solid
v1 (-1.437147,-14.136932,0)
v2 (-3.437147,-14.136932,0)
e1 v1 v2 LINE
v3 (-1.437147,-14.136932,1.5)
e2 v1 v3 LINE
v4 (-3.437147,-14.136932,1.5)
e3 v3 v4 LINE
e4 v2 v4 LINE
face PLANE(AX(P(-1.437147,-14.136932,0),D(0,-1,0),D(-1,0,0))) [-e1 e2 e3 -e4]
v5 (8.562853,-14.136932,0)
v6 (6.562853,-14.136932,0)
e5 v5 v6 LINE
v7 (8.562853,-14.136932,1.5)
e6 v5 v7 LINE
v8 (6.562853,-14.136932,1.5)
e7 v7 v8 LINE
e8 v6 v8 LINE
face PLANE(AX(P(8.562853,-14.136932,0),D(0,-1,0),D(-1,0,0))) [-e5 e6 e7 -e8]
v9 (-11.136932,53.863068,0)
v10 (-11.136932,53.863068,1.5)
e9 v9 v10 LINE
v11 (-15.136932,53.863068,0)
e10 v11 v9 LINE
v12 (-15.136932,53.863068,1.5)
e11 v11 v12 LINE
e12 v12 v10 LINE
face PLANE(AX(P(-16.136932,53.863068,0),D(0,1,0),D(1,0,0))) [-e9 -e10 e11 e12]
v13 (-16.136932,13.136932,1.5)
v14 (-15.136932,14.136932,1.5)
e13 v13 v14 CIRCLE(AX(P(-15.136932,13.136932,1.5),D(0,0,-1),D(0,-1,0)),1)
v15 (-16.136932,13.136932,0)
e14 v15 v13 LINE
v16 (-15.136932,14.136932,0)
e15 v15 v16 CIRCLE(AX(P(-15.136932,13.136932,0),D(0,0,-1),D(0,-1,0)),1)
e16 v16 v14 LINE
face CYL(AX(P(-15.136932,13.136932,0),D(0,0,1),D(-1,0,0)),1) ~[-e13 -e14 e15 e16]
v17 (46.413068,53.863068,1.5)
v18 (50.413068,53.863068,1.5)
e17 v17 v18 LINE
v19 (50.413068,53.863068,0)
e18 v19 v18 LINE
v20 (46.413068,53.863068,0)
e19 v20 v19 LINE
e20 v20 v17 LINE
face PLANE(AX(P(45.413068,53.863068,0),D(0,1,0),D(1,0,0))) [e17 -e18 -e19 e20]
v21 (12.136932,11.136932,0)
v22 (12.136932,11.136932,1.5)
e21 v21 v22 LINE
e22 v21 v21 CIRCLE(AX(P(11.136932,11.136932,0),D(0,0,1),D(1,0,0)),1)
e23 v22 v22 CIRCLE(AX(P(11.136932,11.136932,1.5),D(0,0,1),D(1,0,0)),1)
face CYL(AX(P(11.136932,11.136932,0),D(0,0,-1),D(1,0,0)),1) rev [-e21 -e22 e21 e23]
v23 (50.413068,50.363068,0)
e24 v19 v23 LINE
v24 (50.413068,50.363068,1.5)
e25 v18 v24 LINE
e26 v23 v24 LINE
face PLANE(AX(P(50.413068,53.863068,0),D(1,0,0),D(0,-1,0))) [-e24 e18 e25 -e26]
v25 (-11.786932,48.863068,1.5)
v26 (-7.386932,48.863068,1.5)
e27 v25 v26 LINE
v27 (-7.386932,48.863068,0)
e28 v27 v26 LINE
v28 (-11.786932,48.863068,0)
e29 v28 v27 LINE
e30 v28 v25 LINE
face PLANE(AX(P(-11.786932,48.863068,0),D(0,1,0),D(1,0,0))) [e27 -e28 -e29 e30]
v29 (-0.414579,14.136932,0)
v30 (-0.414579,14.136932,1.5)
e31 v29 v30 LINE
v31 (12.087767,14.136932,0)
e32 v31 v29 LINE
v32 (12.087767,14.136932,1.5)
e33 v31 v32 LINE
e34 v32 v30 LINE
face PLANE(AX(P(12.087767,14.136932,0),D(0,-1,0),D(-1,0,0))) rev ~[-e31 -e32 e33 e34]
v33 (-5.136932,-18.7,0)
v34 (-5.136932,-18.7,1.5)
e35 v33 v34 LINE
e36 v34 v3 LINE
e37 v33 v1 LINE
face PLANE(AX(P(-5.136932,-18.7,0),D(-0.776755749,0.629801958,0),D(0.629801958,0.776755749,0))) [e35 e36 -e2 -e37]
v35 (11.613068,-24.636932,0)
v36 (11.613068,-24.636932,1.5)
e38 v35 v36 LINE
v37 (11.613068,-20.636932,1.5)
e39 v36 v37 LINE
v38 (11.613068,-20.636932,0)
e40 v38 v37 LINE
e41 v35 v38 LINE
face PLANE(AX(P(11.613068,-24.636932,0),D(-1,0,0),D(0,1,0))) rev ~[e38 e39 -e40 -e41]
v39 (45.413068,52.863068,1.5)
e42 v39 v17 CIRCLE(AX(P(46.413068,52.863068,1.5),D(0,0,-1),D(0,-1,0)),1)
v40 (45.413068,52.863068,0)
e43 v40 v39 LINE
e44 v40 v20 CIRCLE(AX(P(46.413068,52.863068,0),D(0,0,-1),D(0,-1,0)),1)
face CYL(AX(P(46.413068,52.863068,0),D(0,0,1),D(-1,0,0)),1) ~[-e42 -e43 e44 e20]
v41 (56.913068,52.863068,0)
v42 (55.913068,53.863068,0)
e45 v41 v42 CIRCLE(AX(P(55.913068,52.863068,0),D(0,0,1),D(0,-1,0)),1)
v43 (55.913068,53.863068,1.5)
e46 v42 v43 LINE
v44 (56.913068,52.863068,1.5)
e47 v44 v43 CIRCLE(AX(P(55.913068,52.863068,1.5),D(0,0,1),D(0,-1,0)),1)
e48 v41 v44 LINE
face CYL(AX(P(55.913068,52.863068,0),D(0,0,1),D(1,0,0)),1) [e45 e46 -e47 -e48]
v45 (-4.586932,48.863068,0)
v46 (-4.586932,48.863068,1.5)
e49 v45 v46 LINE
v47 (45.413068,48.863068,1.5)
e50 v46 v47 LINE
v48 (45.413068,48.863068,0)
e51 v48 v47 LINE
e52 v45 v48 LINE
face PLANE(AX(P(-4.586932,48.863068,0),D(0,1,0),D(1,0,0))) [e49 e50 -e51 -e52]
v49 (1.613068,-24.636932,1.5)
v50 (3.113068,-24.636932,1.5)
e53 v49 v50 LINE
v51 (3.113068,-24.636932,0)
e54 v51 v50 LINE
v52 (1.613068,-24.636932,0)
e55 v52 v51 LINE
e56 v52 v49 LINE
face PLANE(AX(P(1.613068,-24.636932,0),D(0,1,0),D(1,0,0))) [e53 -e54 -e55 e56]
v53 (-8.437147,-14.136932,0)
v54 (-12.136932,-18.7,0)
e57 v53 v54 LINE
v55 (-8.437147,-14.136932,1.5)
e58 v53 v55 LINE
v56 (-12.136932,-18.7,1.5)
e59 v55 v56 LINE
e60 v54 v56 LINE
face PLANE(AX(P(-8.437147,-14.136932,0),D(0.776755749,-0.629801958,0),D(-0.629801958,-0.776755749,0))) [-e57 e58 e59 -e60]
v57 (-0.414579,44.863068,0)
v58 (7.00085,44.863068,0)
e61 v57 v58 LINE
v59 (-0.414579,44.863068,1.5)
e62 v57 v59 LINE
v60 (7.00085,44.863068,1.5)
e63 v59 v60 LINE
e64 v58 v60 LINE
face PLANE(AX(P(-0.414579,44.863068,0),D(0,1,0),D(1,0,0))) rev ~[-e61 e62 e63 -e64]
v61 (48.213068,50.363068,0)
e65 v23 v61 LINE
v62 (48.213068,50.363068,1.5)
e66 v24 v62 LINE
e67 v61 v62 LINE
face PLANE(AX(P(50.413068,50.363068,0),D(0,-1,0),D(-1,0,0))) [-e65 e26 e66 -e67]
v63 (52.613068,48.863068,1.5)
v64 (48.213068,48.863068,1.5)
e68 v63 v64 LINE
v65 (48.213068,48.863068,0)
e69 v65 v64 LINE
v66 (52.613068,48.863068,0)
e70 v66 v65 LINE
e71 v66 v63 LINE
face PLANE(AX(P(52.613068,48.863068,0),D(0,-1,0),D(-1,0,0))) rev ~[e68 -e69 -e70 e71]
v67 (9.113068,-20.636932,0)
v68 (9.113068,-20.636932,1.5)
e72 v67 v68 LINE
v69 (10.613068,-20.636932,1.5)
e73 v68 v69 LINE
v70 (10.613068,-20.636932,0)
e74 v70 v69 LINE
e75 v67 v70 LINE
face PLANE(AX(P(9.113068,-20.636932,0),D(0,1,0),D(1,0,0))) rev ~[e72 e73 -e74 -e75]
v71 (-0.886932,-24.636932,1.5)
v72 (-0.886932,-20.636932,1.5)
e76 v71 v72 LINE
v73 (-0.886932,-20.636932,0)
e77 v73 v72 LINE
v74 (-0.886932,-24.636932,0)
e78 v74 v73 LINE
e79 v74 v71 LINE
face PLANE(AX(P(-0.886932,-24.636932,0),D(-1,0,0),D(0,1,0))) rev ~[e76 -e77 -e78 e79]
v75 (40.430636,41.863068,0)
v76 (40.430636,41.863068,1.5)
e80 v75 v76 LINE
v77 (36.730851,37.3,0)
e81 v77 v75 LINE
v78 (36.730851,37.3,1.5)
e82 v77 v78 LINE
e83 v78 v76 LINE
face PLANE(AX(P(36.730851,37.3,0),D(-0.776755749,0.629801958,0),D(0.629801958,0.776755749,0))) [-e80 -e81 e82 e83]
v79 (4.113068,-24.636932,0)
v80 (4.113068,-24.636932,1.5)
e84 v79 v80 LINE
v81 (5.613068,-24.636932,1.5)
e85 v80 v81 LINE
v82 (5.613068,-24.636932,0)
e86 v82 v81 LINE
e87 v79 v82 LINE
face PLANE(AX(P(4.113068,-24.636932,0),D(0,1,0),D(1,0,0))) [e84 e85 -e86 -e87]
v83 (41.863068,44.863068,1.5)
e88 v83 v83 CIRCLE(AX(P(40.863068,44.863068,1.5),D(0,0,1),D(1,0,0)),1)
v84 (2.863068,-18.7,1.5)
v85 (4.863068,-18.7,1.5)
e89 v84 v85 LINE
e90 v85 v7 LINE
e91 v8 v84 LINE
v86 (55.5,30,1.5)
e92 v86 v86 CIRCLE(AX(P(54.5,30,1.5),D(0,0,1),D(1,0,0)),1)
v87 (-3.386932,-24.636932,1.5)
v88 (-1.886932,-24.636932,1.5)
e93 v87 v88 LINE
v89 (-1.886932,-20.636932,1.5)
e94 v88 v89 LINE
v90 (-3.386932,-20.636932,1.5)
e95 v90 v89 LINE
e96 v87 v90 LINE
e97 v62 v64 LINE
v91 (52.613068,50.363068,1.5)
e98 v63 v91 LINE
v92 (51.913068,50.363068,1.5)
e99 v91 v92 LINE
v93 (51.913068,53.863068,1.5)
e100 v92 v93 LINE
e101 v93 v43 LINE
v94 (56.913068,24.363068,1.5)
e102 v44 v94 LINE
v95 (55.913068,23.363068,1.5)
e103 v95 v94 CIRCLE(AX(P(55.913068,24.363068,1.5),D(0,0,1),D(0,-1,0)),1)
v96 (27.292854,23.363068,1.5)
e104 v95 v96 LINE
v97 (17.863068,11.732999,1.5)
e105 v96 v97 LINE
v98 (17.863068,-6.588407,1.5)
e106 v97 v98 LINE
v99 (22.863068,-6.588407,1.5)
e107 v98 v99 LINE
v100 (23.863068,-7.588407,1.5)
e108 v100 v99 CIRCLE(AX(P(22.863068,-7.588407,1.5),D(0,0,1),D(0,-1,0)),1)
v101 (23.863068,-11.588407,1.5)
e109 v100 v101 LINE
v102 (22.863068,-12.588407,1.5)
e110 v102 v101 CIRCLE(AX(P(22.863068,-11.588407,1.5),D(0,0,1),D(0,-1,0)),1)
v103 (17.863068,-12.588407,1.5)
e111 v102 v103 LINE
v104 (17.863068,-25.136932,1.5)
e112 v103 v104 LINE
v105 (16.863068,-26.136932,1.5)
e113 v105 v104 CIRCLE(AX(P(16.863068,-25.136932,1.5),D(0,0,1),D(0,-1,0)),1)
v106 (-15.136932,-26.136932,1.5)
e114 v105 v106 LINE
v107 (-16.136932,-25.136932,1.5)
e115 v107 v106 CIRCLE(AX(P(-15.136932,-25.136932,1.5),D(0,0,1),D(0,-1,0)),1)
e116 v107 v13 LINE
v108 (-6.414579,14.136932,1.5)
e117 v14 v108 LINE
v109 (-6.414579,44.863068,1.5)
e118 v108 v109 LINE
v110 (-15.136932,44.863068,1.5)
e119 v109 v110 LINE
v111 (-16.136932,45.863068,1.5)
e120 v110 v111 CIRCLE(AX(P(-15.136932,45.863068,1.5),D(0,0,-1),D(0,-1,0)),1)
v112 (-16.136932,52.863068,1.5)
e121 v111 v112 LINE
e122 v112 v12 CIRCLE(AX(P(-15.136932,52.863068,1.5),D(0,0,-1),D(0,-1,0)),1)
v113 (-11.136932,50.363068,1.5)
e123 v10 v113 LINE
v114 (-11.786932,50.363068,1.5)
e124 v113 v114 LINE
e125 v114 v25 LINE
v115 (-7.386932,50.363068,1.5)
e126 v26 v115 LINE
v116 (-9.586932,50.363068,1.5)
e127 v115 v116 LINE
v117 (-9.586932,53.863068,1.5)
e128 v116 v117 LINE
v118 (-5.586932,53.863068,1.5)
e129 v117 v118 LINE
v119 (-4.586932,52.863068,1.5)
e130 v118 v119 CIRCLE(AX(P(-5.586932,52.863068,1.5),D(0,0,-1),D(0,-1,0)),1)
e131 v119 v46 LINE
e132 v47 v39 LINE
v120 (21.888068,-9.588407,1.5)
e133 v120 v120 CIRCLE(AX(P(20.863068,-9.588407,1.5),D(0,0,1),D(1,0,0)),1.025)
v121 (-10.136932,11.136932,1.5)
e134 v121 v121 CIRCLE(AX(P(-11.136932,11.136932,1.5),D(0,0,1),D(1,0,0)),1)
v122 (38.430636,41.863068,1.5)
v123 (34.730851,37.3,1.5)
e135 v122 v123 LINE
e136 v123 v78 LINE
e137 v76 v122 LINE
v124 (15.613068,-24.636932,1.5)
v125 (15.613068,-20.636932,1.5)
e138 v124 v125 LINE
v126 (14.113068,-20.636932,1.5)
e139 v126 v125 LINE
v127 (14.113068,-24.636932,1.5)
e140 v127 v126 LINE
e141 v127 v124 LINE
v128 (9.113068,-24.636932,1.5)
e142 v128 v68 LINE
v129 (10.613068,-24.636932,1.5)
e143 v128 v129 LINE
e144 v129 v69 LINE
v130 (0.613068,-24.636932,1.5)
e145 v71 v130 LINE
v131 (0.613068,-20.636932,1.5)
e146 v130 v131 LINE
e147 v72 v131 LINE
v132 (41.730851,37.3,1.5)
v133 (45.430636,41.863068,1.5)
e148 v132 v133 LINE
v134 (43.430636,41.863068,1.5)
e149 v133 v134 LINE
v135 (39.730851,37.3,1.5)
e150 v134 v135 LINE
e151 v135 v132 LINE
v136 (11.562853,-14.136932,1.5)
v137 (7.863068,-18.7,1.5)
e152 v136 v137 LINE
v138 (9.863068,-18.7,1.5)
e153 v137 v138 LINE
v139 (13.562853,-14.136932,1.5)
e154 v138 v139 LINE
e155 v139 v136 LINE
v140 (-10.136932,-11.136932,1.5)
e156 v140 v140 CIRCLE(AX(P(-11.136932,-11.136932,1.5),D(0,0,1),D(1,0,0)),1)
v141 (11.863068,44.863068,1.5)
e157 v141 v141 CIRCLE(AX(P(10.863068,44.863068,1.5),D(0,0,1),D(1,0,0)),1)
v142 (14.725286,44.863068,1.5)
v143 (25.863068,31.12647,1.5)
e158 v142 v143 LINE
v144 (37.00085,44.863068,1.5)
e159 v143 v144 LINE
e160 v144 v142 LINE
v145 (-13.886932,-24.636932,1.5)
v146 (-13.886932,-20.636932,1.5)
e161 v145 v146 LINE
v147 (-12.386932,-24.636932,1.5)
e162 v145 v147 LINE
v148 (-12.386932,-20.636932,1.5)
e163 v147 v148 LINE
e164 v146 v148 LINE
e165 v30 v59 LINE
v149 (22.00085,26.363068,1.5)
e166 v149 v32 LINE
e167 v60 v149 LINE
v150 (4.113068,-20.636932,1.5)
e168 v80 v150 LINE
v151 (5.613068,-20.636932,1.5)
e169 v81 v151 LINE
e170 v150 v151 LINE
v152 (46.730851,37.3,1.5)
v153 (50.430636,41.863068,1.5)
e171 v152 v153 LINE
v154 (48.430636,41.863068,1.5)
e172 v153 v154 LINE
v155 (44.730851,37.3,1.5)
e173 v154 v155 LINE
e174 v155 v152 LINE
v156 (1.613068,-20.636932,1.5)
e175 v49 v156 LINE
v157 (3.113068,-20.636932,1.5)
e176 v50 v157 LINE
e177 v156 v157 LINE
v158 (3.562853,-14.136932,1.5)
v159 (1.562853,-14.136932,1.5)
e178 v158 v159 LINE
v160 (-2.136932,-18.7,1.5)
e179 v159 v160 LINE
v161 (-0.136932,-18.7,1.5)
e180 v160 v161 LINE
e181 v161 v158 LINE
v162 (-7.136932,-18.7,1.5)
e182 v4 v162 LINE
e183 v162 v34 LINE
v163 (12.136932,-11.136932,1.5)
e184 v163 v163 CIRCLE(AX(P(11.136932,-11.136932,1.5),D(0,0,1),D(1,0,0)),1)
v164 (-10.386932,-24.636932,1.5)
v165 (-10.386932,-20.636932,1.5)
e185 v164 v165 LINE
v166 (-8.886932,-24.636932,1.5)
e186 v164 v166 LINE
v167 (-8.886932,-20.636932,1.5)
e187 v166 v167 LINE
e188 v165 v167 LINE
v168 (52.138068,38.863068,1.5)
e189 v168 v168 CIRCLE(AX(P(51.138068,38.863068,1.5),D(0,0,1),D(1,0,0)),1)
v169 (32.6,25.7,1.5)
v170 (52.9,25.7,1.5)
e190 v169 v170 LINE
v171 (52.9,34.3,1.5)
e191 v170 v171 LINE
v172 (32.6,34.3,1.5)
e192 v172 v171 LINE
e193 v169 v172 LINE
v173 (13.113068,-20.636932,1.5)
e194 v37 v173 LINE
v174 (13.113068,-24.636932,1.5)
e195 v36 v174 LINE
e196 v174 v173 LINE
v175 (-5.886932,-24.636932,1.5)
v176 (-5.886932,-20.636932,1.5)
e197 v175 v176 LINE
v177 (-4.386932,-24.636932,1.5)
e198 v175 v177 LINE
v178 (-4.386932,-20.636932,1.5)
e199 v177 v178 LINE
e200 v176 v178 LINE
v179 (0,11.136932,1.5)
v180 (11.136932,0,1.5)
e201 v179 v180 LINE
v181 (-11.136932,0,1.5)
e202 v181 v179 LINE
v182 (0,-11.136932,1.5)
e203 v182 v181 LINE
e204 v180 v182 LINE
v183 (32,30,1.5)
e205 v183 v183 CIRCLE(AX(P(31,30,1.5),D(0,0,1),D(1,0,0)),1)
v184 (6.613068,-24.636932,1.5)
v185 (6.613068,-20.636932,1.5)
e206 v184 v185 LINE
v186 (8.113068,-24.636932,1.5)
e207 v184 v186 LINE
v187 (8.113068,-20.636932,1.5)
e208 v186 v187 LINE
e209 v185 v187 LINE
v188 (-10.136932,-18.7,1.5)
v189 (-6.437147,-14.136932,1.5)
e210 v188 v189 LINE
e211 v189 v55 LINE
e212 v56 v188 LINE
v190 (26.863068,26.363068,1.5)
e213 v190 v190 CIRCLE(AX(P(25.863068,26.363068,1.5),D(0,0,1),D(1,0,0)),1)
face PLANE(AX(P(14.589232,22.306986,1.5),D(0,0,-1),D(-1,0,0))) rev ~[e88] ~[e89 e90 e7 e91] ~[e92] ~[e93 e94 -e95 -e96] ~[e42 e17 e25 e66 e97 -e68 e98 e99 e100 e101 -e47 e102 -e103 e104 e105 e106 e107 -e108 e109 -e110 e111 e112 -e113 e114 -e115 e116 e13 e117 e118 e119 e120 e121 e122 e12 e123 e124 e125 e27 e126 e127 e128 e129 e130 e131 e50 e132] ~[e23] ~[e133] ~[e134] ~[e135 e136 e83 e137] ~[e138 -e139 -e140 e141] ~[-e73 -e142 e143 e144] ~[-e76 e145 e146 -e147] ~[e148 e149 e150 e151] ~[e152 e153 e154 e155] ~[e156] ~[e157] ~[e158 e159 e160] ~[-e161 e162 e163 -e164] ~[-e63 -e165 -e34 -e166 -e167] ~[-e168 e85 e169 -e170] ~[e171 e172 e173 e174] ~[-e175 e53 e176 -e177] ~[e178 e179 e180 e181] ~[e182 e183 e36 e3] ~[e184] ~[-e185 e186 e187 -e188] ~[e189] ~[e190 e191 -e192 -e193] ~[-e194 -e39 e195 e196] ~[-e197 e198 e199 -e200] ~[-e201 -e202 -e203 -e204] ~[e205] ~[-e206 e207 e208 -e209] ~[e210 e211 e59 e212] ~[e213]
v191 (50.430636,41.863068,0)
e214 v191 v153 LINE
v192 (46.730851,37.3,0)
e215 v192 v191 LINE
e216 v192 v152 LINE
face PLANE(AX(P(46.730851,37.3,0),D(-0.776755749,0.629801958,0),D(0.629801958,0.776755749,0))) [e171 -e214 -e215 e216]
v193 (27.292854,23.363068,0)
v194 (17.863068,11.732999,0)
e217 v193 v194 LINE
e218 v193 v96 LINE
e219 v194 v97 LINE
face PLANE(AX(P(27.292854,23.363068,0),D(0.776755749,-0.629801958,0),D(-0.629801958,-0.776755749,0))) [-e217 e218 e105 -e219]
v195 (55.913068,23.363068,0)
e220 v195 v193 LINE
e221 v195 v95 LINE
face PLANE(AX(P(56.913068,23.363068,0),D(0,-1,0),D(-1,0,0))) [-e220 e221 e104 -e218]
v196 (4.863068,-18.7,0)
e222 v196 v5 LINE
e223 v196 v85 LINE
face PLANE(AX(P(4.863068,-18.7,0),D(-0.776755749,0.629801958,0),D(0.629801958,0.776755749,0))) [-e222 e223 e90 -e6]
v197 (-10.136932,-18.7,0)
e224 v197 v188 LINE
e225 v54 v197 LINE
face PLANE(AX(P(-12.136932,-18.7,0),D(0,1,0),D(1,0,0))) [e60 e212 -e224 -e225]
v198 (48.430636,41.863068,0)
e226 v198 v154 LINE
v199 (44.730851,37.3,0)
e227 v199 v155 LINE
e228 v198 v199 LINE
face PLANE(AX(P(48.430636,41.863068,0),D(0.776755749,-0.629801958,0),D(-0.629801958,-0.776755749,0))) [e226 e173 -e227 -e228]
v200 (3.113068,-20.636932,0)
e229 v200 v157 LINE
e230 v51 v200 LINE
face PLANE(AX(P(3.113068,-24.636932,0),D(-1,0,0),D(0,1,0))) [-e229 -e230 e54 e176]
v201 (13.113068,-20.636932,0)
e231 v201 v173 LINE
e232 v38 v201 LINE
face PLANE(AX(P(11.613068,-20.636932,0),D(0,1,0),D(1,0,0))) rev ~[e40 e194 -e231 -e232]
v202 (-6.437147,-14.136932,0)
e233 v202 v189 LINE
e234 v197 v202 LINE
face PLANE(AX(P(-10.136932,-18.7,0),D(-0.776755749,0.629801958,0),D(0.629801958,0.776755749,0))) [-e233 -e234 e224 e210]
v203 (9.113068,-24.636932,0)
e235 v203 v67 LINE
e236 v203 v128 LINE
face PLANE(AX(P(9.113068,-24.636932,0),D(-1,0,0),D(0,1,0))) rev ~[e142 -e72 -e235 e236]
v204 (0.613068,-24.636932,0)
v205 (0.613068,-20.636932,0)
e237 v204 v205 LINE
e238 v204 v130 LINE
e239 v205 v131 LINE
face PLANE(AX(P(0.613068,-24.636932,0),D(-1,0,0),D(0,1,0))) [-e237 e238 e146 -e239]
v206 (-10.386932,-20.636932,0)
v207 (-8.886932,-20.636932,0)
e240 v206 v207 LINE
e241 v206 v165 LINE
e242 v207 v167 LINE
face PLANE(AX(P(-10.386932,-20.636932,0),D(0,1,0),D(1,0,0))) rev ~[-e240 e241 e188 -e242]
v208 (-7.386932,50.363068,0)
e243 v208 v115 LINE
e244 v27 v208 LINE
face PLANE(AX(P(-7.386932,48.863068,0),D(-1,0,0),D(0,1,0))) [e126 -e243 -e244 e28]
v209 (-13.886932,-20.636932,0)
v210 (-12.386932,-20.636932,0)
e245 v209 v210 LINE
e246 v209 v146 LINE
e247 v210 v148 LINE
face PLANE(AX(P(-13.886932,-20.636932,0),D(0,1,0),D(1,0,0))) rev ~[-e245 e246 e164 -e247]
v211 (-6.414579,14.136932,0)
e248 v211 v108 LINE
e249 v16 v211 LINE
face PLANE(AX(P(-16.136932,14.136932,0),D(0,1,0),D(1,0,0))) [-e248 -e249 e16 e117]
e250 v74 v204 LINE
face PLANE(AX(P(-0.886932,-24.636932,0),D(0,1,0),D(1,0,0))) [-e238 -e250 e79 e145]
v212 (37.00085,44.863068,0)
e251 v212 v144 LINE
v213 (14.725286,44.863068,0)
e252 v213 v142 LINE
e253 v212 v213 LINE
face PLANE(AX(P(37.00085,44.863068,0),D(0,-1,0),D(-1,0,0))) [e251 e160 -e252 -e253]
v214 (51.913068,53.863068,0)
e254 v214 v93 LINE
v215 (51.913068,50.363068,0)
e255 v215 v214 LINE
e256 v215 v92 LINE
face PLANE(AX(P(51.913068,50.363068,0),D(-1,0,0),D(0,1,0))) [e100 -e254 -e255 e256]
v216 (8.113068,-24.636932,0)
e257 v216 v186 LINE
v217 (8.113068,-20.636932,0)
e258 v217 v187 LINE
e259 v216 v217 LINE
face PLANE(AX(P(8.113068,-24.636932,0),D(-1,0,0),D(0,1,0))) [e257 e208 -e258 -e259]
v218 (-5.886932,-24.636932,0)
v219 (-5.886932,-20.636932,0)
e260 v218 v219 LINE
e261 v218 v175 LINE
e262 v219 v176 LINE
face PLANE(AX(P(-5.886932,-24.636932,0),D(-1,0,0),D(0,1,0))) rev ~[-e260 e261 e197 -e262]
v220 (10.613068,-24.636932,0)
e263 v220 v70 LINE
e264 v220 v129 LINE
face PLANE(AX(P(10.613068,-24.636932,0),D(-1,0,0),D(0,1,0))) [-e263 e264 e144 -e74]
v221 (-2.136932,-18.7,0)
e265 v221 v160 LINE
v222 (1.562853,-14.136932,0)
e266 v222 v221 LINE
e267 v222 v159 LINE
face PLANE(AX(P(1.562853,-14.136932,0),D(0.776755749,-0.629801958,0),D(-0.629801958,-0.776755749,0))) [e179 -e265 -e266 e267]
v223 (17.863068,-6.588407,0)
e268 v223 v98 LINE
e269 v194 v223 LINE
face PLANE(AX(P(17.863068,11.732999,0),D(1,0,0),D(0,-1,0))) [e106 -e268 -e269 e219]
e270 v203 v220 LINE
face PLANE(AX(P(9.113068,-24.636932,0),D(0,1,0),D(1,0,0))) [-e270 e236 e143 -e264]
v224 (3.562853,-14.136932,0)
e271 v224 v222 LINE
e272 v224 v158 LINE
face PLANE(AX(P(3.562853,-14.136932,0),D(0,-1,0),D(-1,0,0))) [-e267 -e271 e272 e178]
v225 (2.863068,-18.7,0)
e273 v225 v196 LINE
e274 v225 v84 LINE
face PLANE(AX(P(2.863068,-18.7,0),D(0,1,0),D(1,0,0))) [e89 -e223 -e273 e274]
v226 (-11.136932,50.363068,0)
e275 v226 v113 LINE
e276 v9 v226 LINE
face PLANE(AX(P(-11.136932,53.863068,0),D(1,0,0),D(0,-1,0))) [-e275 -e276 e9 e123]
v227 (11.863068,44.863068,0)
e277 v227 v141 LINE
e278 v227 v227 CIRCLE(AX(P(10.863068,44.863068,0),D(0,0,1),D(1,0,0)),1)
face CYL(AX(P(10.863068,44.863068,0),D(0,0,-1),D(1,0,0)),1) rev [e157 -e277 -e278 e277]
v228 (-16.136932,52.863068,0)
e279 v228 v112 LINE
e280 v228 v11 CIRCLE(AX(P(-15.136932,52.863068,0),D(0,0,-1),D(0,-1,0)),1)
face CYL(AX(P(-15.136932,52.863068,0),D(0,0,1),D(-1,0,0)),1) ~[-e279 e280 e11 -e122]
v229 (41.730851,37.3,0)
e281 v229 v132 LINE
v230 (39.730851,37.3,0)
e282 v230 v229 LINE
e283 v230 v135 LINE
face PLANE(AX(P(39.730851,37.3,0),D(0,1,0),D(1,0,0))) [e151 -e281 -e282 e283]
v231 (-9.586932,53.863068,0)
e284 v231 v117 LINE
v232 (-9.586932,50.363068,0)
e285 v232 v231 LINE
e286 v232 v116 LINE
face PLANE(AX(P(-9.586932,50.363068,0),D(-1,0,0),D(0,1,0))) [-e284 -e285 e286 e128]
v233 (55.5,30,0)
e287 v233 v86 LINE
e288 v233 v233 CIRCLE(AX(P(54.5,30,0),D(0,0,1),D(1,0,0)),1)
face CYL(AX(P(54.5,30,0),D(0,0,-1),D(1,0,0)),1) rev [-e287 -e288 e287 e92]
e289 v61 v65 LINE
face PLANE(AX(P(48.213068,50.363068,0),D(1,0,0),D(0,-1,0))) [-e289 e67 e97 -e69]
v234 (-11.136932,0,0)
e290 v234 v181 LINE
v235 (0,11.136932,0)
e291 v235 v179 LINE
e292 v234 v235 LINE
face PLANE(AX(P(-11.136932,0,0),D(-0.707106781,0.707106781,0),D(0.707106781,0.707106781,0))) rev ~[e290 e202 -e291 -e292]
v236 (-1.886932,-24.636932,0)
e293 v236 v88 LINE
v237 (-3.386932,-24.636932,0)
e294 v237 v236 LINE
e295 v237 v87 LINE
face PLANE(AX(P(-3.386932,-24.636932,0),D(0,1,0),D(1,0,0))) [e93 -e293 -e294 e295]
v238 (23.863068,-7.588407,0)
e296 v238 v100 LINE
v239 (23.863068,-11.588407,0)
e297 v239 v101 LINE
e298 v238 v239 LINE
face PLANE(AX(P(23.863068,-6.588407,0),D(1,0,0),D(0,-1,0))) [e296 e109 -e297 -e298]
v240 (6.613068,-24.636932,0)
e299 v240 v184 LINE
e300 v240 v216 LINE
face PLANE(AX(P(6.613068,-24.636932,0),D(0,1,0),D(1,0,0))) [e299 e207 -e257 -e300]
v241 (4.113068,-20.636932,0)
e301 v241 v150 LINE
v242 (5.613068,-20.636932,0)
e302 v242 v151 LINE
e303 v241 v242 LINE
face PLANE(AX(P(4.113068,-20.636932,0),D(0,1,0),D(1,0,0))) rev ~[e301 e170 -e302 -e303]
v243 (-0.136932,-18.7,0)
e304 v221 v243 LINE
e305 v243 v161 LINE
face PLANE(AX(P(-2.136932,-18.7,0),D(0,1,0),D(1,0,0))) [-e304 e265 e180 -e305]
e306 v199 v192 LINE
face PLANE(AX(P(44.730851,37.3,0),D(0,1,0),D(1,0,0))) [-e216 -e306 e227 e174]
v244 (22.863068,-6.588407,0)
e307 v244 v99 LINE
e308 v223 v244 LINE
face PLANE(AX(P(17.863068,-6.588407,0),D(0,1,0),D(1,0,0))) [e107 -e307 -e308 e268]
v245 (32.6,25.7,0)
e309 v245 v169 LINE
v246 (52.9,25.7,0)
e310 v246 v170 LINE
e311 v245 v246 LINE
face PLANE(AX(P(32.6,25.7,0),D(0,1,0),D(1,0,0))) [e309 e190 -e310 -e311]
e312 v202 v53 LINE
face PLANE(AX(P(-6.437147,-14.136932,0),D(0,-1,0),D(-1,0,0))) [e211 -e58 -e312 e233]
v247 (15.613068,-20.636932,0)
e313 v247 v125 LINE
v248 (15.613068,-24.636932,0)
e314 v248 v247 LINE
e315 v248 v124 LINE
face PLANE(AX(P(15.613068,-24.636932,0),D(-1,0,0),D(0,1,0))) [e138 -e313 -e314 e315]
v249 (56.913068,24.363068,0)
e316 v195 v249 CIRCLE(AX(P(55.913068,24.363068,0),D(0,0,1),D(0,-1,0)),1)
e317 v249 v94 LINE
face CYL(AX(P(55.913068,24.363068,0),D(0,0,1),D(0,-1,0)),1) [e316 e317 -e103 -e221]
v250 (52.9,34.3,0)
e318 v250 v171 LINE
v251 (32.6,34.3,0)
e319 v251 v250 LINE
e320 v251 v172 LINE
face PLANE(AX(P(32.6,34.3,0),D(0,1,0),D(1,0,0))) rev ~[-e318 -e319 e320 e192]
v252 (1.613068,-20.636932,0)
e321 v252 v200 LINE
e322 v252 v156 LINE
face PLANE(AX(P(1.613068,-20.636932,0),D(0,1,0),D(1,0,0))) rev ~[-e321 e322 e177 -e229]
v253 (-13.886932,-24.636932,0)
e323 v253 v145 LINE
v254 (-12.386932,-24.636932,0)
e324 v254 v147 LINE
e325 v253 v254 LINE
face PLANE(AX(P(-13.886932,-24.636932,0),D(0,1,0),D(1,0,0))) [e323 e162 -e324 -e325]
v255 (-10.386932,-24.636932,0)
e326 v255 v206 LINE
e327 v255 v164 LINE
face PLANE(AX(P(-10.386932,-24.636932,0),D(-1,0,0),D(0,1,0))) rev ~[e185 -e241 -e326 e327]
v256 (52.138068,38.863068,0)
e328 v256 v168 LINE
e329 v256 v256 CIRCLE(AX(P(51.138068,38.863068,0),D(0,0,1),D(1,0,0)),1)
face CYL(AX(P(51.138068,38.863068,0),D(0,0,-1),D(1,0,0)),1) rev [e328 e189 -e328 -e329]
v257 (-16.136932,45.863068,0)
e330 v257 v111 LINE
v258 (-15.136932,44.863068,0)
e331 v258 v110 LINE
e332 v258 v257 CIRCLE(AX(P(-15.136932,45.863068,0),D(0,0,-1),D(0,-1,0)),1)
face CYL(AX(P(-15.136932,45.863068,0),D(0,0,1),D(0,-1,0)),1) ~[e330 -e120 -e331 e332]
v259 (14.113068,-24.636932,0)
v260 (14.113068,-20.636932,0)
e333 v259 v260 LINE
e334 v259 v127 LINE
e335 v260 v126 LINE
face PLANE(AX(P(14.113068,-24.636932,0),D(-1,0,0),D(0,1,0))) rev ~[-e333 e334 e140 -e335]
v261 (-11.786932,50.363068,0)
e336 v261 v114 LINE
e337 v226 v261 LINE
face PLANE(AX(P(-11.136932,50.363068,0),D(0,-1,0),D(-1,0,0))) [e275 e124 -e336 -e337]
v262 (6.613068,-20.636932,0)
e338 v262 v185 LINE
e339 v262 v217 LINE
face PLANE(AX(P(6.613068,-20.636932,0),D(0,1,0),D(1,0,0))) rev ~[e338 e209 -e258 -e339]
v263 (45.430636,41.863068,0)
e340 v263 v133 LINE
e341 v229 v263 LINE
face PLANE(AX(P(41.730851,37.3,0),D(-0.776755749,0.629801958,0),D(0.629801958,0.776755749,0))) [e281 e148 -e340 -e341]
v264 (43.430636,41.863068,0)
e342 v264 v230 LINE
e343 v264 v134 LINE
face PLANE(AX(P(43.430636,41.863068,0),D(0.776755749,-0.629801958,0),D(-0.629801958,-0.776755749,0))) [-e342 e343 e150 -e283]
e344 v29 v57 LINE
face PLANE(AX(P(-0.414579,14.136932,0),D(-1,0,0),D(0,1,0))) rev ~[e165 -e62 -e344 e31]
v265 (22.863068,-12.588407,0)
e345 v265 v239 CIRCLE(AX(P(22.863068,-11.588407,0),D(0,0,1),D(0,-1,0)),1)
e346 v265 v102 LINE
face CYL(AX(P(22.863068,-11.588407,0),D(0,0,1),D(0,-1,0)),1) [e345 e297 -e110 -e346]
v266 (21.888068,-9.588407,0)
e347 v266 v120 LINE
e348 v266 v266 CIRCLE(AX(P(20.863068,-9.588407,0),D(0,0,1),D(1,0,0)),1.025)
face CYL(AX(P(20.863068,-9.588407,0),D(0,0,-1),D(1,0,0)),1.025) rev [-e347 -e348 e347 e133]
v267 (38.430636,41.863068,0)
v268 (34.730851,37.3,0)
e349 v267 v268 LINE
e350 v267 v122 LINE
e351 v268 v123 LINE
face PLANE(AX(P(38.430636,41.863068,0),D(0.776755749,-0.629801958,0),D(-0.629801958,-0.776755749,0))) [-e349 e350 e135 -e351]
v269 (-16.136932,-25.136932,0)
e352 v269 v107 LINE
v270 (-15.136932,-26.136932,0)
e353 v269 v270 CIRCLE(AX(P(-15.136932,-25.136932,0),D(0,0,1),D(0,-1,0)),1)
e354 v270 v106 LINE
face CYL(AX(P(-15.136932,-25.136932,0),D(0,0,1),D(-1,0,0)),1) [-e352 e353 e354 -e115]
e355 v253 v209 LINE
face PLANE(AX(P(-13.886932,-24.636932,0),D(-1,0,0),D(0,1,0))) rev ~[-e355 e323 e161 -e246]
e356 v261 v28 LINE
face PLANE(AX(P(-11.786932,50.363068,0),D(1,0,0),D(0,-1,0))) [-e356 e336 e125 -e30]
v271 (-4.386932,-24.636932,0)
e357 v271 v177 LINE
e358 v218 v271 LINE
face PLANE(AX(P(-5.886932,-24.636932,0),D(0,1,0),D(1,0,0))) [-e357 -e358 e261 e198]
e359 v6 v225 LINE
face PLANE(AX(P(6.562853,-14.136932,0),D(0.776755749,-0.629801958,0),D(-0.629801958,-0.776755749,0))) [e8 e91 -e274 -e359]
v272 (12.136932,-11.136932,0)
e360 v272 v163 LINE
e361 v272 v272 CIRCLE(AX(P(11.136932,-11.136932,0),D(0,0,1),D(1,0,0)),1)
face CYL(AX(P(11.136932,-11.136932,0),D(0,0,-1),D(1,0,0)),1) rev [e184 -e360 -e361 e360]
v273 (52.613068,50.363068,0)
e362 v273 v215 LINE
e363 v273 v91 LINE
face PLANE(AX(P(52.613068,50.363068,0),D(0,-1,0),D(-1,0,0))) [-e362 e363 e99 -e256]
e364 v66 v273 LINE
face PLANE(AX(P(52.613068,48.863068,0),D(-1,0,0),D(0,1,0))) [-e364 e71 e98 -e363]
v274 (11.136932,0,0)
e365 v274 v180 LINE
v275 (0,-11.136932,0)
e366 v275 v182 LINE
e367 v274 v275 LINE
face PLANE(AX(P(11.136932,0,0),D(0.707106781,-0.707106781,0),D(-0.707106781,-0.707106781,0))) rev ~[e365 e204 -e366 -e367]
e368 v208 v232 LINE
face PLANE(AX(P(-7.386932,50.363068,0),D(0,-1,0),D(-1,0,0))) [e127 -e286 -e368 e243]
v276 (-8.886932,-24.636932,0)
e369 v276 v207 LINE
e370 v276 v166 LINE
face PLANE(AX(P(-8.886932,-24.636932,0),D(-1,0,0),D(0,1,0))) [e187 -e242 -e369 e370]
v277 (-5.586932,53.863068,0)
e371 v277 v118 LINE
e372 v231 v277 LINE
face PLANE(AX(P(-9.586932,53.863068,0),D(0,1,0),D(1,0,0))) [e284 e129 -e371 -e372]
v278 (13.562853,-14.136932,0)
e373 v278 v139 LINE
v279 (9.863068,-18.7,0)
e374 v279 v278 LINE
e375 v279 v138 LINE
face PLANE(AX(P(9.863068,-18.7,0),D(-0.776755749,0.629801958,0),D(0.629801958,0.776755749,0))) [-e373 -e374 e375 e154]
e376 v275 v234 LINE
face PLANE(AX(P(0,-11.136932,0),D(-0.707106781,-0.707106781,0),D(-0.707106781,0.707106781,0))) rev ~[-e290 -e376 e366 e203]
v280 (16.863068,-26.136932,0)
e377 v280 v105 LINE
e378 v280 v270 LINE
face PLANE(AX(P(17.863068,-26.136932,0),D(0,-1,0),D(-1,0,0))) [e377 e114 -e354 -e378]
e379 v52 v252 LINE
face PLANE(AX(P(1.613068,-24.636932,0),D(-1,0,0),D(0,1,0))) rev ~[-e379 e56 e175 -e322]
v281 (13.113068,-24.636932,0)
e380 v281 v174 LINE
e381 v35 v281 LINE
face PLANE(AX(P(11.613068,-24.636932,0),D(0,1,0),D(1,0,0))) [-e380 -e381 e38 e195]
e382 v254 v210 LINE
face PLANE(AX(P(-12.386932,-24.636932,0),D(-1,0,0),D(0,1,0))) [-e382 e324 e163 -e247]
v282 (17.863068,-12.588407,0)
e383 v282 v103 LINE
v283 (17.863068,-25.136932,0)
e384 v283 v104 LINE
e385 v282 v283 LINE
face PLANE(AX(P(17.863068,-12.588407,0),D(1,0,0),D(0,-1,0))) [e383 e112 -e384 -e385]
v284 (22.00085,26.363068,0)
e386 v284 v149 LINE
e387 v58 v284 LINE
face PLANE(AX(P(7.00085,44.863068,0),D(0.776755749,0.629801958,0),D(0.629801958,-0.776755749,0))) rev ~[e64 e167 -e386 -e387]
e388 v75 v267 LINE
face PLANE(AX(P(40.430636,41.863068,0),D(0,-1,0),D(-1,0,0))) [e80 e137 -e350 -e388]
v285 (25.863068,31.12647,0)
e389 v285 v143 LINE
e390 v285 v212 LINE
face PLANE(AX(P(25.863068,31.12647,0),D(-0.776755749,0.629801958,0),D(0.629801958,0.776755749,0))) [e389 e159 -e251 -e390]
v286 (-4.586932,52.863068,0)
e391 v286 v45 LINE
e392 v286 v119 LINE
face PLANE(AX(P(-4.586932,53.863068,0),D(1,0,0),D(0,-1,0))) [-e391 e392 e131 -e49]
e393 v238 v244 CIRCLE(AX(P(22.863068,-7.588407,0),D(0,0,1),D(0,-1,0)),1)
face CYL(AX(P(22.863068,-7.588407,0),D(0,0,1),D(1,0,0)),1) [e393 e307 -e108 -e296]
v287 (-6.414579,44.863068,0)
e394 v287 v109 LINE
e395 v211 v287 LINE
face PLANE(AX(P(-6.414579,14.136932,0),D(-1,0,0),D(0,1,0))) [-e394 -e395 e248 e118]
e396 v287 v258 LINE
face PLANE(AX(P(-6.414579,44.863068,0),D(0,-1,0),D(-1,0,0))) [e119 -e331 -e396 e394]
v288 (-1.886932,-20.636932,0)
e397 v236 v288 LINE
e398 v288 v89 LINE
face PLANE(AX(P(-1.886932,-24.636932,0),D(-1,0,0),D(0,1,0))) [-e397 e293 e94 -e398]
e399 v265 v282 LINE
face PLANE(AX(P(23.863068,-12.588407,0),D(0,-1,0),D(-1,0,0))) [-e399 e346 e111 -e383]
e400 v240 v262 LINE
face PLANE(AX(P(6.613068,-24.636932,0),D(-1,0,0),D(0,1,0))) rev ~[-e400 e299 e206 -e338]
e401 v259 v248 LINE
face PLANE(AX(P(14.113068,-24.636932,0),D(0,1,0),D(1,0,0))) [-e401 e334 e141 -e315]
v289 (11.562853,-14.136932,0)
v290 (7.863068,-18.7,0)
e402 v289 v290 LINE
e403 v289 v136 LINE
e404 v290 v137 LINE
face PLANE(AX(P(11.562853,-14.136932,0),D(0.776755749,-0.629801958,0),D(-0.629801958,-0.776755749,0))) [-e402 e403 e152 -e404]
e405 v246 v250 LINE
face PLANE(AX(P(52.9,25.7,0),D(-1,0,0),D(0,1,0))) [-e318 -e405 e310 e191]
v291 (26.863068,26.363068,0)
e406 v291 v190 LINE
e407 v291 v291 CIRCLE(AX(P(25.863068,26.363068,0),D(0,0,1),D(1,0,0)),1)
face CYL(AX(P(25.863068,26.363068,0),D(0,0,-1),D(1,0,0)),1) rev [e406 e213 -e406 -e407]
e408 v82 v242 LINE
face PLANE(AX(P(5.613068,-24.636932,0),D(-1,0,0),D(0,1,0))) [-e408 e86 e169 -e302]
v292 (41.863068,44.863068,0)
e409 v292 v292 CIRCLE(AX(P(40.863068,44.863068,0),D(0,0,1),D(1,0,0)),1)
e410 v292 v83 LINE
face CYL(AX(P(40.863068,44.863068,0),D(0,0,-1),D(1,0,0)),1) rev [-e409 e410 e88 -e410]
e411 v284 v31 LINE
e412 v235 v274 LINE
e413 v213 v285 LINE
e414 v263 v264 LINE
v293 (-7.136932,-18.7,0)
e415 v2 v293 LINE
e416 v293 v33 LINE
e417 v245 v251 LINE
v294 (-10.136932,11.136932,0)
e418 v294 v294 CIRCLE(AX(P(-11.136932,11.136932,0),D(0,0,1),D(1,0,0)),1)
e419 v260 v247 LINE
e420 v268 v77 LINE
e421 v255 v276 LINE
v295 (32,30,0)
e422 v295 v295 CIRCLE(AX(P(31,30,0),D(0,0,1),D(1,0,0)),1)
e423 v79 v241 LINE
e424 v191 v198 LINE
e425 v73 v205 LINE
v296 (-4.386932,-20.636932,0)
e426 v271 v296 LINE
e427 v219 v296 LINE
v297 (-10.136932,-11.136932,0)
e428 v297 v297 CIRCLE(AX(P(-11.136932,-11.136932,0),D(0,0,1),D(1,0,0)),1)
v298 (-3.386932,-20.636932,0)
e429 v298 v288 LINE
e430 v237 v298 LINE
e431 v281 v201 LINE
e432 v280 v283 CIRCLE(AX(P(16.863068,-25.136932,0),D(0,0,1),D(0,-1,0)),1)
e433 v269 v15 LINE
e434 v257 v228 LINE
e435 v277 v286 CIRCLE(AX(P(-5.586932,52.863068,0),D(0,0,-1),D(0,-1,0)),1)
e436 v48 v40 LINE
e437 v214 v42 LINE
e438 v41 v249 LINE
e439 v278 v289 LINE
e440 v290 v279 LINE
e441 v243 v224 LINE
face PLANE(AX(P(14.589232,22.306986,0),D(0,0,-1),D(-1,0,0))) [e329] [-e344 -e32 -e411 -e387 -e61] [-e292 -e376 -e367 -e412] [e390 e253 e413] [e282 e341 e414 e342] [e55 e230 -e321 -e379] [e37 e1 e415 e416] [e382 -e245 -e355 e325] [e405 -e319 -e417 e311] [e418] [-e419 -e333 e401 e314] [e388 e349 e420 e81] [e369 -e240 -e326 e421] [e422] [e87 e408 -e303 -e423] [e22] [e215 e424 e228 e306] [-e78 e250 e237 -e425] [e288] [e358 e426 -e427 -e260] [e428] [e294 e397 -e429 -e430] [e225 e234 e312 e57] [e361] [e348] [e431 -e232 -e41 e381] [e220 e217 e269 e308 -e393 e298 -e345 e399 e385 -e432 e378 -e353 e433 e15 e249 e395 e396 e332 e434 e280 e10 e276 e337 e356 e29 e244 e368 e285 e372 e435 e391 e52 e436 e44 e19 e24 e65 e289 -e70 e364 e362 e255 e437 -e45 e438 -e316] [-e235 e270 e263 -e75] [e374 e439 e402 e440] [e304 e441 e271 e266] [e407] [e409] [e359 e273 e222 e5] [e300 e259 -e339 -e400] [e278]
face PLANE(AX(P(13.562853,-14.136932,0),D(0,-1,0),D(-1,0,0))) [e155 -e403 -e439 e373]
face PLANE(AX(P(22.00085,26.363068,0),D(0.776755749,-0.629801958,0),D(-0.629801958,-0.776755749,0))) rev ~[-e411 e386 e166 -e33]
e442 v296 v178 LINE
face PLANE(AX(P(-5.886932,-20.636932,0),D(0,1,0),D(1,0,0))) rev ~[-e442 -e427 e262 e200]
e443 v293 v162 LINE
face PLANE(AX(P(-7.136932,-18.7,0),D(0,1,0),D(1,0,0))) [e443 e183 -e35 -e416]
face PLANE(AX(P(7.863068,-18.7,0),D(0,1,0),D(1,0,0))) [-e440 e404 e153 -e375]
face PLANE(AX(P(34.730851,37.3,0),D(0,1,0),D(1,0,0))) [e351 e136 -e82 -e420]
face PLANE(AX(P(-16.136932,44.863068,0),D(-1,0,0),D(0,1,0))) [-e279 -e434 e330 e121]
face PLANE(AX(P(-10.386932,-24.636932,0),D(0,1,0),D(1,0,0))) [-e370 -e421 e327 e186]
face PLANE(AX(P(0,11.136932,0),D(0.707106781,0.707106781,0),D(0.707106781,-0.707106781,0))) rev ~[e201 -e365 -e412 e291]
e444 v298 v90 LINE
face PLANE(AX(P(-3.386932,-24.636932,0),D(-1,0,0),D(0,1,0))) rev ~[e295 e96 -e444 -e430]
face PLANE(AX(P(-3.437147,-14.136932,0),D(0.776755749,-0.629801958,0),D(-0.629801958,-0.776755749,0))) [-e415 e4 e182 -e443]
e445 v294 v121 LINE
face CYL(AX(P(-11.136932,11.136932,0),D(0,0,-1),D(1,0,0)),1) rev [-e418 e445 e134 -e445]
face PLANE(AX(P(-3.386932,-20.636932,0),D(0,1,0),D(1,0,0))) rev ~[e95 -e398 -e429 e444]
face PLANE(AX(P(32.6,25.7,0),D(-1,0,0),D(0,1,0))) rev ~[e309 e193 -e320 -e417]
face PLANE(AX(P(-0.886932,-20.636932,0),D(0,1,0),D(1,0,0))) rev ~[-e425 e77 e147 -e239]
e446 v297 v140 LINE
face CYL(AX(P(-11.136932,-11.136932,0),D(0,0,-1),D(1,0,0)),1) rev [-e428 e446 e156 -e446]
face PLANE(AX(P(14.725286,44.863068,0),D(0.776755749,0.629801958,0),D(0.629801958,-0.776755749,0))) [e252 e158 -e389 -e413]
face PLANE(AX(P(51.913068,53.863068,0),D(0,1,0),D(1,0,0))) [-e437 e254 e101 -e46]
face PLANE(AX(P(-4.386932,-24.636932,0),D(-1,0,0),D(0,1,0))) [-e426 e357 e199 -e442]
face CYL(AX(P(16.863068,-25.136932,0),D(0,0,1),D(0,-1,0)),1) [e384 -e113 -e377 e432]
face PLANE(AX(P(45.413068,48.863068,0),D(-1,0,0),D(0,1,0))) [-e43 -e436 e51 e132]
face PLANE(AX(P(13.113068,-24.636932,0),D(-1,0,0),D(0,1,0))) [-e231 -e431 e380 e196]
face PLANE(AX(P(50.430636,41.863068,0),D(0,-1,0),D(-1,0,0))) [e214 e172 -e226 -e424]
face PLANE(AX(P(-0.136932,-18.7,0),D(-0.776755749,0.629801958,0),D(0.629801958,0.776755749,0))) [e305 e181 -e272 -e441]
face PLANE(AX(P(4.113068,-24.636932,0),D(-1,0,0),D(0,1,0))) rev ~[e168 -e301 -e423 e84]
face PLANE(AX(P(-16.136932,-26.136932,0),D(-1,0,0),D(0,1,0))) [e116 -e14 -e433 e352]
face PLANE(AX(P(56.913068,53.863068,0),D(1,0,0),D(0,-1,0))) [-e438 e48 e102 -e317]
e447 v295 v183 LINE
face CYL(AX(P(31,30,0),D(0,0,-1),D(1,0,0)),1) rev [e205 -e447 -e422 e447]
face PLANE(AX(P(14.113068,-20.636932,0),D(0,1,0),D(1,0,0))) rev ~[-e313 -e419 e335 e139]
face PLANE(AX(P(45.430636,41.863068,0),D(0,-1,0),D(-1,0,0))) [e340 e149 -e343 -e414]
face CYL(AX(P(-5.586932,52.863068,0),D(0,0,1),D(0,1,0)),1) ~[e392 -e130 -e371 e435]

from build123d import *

# Parameters (mm, degrees)
SKETCH_1_R      = 1
SKETCH_1_R_2    = 1.025
SKETCH_1_W      = 20.3
SKETCH_1_H      = 8.6
SKETCH_1_W_2    = 1.5
SKETCH_1_H_2    = 4
EXTRUDE_1_DEPTH = 1.5
FILLET_1_R      = 1


with BuildPart() as part:
    # 草图1 → 凸台-拉伸1 (new body)
    with BuildSketch(Plane.XY):
        Polygon((-16.136931804, -26.136931804), (-16.136931804, 14.136931804), (-6.414578713, 14.136931804), (-6.414578713, 44.863068196), (-16.136931804, 44.863068196), (-16.136931804, 53.863068196), (-11.136931804, 53.863068196), (-11.136931804, 50.363068196), (-11.786931804, 50.363068196), (-11.786931804, 48.863068196), (-7.386931804, 48.863068196), (-7.386931804, 50.363068196), (-9.586931804, 50.363068196), (-9.586931804, 53.863068196), (-4.586931804, 53.863068196), (-4.586931804, 48.863068196), (45.413068196, 48.863068196), (45.413068196, 53.863068196), (50.413068196, 53.863068196), (50.413068196, 50.363068196), (48.213068196, 50.363068196), (48.213068196, 48.863068196), (50.413068196, 48.863068196), (51.913068196, 48.863068196), (52.613068196, 48.863068196), (52.613068196, 50.363068196), (51.913068196, 50.363068196), (51.913068196, 53.863068196), (56.913068196, 53.863068196), (56.913068196, 23.363068196), (27.29285372, 23.363068196), (17.863068196, 11.732999384), (17.863068196, -6.588407425), (23.863068196, -6.588407425), (23.863068196, -12.588407425), (17.863068196, -12.588407425), (17.863068196, -26.136931804), align=None)
        with Locations((11.136931804, 11.136931804)):
            Circle(SKETCH_1_R, mode=Mode.SUBTRACT)
        with Locations((31, 30)):
            Circle(SKETCH_1_R, mode=Mode.SUBTRACT)
        with Locations((54.5, 30)):
            Circle(SKETCH_1_R, mode=Mode.SUBTRACT)
        with Locations((20.863068196, -9.588407425)):
            Circle(SKETCH_1_R_2, mode=Mode.SUBTRACT)
        with Locations((25.863068196, 26.363068196)):
            Circle(SKETCH_1_R, mode=Mode.SUBTRACT)
        with Locations((40.863068196, 44.863068196)):
            Circle(SKETCH_1_R, mode=Mode.SUBTRACT)
        with Locations((10.863068196, 44.863068196)):
            Circle(SKETCH_1_R, mode=Mode.SUBTRACT)
        with Locations((51.138068196, 38.863068196)):
            Circle(SKETCH_1_R, mode=Mode.SUBTRACT)
        with Locations((11.136931804, -11.136931804)):
            Circle(SKETCH_1_R, mode=Mode.SUBTRACT)
        with Locations((-11.136931804, -11.136931804)):
            Circle(SKETCH_1_R, mode=Mode.SUBTRACT)
        with Locations((-11.136931804, 11.136931804)):
            Circle(SKETCH_1_R, mode=Mode.SUBTRACT)
        with Locations((42.75, 30)):
            Rectangle(SKETCH_1_W, SKETCH_1_H, mode=Mode.SUBTRACT)
        with Locations((-9.636931804, -22.636931804)):
            Rectangle(SKETCH_1_W_2, SKETCH_1_H_2, mode=Mode.SUBTRACT)
        with Locations((14.863068196, -22.636931804)):
            Rectangle(SKETCH_1_W_2, SKETCH_1_H_2, mode=Mode.SUBTRACT)
        with Locations((12.363068196, -22.636931804)):
            Rectangle(SKETCH_1_W_2, SKETCH_1_H_2, mode=Mode.SUBTRACT)
        with Locations((-13.136931804, -22.636931804)):
            Rectangle(SKETCH_1_W_2, SKETCH_1_H_2, mode=Mode.SUBTRACT)
        Polygon((37.00085024, 44.863068196), (14.725286152, 44.863068196), (25.863068196, 31.126470342), align=None, mode=Mode.SUBTRACT)
        with Locations((9.863068196, -22.636931804)):
            Rectangle(SKETCH_1_W_2, SKETCH_1_H_2, mode=Mode.SUBTRACT)
        with Locations((7.363068196, -22.636931804)):
            Rectangle(SKETCH_1_W_2, SKETCH_1_H_2, mode=Mode.SUBTRACT)
        with Locations((4.863068196, -22.636931804)):
            Rectangle(SKETCH_1_W_2, SKETCH_1_H_2, mode=Mode.SUBTRACT)
        with Locations((2.363068196, -22.636931804)):
            Rectangle(SKETCH_1_W_2, SKETCH_1_H_2, mode=Mode.SUBTRACT)
        with Locations((-0.136931804, -22.636931804)):
            Rectangle(SKETCH_1_W_2, SKETCH_1_H_2, mode=Mode.SUBTRACT)
        with Locations((-2.636931804, -22.636931804)):
            Rectangle(SKETCH_1_W_2, SKETCH_1_H_2, mode=Mode.SUBTRACT)
        with Locations((-5.136931804, -22.636931804)):
            Rectangle(SKETCH_1_W_2, SKETCH_1_H_2, mode=Mode.SUBTRACT)
        Polygon((-11.136931804, 0), (0, 11.136931804), (11.136931804, 0), (0, -11.136931804), align=None, mode=Mode.SUBTRACT)
        Polygon((22.00085024, 26.363068196), (12.087766679, 14.136931804), (-0.414578713, 14.136931804), (-0.414578713, 44.863068196), (7.00085024, 44.863068196), align=None, mode=Mode.SUBTRACT)
        Polygon((38.430635764, 41.863068196), (34.73085074, 37.3), (36.73085074, 37.3), (40.430635764, 41.863068196), align=None, mode=Mode.SUBTRACT)
        Polygon((43.430635764, 41.863068196), (39.73085074, 37.3), (41.73085074, 37.3), (45.430635764, 41.863068196), align=None, mode=Mode.SUBTRACT)
        Polygon((48.430635764, 41.863068196), (44.73085074, 37.3), (46.73085074, 37.3), (50.430635764, 41.863068196), align=None, mode=Mode.SUBTRACT)
        Polygon((-8.43714678, -14.136931804), (-12.136931804, -18.7), (-10.136931804, -18.7), (-6.43714678, -14.136931804), align=None, mode=Mode.SUBTRACT)
        Polygon((-3.43714678, -14.136931804), (-7.136931804, -18.7), (-5.136931804, -18.7), (-1.43714678, -14.136931804), align=None, mode=Mode.SUBTRACT)
        Polygon((1.56285322, -14.136931804), (-2.136931804, -18.7), (-0.136931804, -18.7), (3.56285322, -14.136931804), align=None, mode=Mode.SUBTRACT)
        Polygon((6.56285322, -14.136931804), (2.863068196, -18.7), (4.863068196, -18.7), (8.56285322, -14.136931804), align=None, mode=Mode.SUBTRACT)
        Polygon((11.56285322, -14.136931804), (7.863068196, -18.7), (9.863068196, -18.7), (13.56285322, -14.136931804), align=None, mode=Mode.SUBTRACT)
    extrude(amount=EXTRUDE_1_DEPTH)

    # 圆角1
    fillet_1_edges = [part.edges().sort_by_distance(p)[0] for p in [
        (-16.136931804, -26.136931804, 0.75),
        (-16.136931804, 14.136931804, 0.75),
        (-16.136931804, 44.863068196, 0.75),
        (-16.136931804, 53.863068196, 0.75),
        (-4.586931804, 53.863068196, 0.75),
        (45.413068196, 53.863068196, 0.75),
        (56.913068196, 53.863068196, 0.75),
        (56.913068196, 23.363068196, 0.75),
        (23.863068196, -6.588407425, 0.75),
        (23.863068196, -12.588407425, 0.75),
        (17.863068196, -26.136931804, 0.75),
    ]]
    fillet(fillet_1_edges, radius=FILLET_1_R)


solid = part.part
